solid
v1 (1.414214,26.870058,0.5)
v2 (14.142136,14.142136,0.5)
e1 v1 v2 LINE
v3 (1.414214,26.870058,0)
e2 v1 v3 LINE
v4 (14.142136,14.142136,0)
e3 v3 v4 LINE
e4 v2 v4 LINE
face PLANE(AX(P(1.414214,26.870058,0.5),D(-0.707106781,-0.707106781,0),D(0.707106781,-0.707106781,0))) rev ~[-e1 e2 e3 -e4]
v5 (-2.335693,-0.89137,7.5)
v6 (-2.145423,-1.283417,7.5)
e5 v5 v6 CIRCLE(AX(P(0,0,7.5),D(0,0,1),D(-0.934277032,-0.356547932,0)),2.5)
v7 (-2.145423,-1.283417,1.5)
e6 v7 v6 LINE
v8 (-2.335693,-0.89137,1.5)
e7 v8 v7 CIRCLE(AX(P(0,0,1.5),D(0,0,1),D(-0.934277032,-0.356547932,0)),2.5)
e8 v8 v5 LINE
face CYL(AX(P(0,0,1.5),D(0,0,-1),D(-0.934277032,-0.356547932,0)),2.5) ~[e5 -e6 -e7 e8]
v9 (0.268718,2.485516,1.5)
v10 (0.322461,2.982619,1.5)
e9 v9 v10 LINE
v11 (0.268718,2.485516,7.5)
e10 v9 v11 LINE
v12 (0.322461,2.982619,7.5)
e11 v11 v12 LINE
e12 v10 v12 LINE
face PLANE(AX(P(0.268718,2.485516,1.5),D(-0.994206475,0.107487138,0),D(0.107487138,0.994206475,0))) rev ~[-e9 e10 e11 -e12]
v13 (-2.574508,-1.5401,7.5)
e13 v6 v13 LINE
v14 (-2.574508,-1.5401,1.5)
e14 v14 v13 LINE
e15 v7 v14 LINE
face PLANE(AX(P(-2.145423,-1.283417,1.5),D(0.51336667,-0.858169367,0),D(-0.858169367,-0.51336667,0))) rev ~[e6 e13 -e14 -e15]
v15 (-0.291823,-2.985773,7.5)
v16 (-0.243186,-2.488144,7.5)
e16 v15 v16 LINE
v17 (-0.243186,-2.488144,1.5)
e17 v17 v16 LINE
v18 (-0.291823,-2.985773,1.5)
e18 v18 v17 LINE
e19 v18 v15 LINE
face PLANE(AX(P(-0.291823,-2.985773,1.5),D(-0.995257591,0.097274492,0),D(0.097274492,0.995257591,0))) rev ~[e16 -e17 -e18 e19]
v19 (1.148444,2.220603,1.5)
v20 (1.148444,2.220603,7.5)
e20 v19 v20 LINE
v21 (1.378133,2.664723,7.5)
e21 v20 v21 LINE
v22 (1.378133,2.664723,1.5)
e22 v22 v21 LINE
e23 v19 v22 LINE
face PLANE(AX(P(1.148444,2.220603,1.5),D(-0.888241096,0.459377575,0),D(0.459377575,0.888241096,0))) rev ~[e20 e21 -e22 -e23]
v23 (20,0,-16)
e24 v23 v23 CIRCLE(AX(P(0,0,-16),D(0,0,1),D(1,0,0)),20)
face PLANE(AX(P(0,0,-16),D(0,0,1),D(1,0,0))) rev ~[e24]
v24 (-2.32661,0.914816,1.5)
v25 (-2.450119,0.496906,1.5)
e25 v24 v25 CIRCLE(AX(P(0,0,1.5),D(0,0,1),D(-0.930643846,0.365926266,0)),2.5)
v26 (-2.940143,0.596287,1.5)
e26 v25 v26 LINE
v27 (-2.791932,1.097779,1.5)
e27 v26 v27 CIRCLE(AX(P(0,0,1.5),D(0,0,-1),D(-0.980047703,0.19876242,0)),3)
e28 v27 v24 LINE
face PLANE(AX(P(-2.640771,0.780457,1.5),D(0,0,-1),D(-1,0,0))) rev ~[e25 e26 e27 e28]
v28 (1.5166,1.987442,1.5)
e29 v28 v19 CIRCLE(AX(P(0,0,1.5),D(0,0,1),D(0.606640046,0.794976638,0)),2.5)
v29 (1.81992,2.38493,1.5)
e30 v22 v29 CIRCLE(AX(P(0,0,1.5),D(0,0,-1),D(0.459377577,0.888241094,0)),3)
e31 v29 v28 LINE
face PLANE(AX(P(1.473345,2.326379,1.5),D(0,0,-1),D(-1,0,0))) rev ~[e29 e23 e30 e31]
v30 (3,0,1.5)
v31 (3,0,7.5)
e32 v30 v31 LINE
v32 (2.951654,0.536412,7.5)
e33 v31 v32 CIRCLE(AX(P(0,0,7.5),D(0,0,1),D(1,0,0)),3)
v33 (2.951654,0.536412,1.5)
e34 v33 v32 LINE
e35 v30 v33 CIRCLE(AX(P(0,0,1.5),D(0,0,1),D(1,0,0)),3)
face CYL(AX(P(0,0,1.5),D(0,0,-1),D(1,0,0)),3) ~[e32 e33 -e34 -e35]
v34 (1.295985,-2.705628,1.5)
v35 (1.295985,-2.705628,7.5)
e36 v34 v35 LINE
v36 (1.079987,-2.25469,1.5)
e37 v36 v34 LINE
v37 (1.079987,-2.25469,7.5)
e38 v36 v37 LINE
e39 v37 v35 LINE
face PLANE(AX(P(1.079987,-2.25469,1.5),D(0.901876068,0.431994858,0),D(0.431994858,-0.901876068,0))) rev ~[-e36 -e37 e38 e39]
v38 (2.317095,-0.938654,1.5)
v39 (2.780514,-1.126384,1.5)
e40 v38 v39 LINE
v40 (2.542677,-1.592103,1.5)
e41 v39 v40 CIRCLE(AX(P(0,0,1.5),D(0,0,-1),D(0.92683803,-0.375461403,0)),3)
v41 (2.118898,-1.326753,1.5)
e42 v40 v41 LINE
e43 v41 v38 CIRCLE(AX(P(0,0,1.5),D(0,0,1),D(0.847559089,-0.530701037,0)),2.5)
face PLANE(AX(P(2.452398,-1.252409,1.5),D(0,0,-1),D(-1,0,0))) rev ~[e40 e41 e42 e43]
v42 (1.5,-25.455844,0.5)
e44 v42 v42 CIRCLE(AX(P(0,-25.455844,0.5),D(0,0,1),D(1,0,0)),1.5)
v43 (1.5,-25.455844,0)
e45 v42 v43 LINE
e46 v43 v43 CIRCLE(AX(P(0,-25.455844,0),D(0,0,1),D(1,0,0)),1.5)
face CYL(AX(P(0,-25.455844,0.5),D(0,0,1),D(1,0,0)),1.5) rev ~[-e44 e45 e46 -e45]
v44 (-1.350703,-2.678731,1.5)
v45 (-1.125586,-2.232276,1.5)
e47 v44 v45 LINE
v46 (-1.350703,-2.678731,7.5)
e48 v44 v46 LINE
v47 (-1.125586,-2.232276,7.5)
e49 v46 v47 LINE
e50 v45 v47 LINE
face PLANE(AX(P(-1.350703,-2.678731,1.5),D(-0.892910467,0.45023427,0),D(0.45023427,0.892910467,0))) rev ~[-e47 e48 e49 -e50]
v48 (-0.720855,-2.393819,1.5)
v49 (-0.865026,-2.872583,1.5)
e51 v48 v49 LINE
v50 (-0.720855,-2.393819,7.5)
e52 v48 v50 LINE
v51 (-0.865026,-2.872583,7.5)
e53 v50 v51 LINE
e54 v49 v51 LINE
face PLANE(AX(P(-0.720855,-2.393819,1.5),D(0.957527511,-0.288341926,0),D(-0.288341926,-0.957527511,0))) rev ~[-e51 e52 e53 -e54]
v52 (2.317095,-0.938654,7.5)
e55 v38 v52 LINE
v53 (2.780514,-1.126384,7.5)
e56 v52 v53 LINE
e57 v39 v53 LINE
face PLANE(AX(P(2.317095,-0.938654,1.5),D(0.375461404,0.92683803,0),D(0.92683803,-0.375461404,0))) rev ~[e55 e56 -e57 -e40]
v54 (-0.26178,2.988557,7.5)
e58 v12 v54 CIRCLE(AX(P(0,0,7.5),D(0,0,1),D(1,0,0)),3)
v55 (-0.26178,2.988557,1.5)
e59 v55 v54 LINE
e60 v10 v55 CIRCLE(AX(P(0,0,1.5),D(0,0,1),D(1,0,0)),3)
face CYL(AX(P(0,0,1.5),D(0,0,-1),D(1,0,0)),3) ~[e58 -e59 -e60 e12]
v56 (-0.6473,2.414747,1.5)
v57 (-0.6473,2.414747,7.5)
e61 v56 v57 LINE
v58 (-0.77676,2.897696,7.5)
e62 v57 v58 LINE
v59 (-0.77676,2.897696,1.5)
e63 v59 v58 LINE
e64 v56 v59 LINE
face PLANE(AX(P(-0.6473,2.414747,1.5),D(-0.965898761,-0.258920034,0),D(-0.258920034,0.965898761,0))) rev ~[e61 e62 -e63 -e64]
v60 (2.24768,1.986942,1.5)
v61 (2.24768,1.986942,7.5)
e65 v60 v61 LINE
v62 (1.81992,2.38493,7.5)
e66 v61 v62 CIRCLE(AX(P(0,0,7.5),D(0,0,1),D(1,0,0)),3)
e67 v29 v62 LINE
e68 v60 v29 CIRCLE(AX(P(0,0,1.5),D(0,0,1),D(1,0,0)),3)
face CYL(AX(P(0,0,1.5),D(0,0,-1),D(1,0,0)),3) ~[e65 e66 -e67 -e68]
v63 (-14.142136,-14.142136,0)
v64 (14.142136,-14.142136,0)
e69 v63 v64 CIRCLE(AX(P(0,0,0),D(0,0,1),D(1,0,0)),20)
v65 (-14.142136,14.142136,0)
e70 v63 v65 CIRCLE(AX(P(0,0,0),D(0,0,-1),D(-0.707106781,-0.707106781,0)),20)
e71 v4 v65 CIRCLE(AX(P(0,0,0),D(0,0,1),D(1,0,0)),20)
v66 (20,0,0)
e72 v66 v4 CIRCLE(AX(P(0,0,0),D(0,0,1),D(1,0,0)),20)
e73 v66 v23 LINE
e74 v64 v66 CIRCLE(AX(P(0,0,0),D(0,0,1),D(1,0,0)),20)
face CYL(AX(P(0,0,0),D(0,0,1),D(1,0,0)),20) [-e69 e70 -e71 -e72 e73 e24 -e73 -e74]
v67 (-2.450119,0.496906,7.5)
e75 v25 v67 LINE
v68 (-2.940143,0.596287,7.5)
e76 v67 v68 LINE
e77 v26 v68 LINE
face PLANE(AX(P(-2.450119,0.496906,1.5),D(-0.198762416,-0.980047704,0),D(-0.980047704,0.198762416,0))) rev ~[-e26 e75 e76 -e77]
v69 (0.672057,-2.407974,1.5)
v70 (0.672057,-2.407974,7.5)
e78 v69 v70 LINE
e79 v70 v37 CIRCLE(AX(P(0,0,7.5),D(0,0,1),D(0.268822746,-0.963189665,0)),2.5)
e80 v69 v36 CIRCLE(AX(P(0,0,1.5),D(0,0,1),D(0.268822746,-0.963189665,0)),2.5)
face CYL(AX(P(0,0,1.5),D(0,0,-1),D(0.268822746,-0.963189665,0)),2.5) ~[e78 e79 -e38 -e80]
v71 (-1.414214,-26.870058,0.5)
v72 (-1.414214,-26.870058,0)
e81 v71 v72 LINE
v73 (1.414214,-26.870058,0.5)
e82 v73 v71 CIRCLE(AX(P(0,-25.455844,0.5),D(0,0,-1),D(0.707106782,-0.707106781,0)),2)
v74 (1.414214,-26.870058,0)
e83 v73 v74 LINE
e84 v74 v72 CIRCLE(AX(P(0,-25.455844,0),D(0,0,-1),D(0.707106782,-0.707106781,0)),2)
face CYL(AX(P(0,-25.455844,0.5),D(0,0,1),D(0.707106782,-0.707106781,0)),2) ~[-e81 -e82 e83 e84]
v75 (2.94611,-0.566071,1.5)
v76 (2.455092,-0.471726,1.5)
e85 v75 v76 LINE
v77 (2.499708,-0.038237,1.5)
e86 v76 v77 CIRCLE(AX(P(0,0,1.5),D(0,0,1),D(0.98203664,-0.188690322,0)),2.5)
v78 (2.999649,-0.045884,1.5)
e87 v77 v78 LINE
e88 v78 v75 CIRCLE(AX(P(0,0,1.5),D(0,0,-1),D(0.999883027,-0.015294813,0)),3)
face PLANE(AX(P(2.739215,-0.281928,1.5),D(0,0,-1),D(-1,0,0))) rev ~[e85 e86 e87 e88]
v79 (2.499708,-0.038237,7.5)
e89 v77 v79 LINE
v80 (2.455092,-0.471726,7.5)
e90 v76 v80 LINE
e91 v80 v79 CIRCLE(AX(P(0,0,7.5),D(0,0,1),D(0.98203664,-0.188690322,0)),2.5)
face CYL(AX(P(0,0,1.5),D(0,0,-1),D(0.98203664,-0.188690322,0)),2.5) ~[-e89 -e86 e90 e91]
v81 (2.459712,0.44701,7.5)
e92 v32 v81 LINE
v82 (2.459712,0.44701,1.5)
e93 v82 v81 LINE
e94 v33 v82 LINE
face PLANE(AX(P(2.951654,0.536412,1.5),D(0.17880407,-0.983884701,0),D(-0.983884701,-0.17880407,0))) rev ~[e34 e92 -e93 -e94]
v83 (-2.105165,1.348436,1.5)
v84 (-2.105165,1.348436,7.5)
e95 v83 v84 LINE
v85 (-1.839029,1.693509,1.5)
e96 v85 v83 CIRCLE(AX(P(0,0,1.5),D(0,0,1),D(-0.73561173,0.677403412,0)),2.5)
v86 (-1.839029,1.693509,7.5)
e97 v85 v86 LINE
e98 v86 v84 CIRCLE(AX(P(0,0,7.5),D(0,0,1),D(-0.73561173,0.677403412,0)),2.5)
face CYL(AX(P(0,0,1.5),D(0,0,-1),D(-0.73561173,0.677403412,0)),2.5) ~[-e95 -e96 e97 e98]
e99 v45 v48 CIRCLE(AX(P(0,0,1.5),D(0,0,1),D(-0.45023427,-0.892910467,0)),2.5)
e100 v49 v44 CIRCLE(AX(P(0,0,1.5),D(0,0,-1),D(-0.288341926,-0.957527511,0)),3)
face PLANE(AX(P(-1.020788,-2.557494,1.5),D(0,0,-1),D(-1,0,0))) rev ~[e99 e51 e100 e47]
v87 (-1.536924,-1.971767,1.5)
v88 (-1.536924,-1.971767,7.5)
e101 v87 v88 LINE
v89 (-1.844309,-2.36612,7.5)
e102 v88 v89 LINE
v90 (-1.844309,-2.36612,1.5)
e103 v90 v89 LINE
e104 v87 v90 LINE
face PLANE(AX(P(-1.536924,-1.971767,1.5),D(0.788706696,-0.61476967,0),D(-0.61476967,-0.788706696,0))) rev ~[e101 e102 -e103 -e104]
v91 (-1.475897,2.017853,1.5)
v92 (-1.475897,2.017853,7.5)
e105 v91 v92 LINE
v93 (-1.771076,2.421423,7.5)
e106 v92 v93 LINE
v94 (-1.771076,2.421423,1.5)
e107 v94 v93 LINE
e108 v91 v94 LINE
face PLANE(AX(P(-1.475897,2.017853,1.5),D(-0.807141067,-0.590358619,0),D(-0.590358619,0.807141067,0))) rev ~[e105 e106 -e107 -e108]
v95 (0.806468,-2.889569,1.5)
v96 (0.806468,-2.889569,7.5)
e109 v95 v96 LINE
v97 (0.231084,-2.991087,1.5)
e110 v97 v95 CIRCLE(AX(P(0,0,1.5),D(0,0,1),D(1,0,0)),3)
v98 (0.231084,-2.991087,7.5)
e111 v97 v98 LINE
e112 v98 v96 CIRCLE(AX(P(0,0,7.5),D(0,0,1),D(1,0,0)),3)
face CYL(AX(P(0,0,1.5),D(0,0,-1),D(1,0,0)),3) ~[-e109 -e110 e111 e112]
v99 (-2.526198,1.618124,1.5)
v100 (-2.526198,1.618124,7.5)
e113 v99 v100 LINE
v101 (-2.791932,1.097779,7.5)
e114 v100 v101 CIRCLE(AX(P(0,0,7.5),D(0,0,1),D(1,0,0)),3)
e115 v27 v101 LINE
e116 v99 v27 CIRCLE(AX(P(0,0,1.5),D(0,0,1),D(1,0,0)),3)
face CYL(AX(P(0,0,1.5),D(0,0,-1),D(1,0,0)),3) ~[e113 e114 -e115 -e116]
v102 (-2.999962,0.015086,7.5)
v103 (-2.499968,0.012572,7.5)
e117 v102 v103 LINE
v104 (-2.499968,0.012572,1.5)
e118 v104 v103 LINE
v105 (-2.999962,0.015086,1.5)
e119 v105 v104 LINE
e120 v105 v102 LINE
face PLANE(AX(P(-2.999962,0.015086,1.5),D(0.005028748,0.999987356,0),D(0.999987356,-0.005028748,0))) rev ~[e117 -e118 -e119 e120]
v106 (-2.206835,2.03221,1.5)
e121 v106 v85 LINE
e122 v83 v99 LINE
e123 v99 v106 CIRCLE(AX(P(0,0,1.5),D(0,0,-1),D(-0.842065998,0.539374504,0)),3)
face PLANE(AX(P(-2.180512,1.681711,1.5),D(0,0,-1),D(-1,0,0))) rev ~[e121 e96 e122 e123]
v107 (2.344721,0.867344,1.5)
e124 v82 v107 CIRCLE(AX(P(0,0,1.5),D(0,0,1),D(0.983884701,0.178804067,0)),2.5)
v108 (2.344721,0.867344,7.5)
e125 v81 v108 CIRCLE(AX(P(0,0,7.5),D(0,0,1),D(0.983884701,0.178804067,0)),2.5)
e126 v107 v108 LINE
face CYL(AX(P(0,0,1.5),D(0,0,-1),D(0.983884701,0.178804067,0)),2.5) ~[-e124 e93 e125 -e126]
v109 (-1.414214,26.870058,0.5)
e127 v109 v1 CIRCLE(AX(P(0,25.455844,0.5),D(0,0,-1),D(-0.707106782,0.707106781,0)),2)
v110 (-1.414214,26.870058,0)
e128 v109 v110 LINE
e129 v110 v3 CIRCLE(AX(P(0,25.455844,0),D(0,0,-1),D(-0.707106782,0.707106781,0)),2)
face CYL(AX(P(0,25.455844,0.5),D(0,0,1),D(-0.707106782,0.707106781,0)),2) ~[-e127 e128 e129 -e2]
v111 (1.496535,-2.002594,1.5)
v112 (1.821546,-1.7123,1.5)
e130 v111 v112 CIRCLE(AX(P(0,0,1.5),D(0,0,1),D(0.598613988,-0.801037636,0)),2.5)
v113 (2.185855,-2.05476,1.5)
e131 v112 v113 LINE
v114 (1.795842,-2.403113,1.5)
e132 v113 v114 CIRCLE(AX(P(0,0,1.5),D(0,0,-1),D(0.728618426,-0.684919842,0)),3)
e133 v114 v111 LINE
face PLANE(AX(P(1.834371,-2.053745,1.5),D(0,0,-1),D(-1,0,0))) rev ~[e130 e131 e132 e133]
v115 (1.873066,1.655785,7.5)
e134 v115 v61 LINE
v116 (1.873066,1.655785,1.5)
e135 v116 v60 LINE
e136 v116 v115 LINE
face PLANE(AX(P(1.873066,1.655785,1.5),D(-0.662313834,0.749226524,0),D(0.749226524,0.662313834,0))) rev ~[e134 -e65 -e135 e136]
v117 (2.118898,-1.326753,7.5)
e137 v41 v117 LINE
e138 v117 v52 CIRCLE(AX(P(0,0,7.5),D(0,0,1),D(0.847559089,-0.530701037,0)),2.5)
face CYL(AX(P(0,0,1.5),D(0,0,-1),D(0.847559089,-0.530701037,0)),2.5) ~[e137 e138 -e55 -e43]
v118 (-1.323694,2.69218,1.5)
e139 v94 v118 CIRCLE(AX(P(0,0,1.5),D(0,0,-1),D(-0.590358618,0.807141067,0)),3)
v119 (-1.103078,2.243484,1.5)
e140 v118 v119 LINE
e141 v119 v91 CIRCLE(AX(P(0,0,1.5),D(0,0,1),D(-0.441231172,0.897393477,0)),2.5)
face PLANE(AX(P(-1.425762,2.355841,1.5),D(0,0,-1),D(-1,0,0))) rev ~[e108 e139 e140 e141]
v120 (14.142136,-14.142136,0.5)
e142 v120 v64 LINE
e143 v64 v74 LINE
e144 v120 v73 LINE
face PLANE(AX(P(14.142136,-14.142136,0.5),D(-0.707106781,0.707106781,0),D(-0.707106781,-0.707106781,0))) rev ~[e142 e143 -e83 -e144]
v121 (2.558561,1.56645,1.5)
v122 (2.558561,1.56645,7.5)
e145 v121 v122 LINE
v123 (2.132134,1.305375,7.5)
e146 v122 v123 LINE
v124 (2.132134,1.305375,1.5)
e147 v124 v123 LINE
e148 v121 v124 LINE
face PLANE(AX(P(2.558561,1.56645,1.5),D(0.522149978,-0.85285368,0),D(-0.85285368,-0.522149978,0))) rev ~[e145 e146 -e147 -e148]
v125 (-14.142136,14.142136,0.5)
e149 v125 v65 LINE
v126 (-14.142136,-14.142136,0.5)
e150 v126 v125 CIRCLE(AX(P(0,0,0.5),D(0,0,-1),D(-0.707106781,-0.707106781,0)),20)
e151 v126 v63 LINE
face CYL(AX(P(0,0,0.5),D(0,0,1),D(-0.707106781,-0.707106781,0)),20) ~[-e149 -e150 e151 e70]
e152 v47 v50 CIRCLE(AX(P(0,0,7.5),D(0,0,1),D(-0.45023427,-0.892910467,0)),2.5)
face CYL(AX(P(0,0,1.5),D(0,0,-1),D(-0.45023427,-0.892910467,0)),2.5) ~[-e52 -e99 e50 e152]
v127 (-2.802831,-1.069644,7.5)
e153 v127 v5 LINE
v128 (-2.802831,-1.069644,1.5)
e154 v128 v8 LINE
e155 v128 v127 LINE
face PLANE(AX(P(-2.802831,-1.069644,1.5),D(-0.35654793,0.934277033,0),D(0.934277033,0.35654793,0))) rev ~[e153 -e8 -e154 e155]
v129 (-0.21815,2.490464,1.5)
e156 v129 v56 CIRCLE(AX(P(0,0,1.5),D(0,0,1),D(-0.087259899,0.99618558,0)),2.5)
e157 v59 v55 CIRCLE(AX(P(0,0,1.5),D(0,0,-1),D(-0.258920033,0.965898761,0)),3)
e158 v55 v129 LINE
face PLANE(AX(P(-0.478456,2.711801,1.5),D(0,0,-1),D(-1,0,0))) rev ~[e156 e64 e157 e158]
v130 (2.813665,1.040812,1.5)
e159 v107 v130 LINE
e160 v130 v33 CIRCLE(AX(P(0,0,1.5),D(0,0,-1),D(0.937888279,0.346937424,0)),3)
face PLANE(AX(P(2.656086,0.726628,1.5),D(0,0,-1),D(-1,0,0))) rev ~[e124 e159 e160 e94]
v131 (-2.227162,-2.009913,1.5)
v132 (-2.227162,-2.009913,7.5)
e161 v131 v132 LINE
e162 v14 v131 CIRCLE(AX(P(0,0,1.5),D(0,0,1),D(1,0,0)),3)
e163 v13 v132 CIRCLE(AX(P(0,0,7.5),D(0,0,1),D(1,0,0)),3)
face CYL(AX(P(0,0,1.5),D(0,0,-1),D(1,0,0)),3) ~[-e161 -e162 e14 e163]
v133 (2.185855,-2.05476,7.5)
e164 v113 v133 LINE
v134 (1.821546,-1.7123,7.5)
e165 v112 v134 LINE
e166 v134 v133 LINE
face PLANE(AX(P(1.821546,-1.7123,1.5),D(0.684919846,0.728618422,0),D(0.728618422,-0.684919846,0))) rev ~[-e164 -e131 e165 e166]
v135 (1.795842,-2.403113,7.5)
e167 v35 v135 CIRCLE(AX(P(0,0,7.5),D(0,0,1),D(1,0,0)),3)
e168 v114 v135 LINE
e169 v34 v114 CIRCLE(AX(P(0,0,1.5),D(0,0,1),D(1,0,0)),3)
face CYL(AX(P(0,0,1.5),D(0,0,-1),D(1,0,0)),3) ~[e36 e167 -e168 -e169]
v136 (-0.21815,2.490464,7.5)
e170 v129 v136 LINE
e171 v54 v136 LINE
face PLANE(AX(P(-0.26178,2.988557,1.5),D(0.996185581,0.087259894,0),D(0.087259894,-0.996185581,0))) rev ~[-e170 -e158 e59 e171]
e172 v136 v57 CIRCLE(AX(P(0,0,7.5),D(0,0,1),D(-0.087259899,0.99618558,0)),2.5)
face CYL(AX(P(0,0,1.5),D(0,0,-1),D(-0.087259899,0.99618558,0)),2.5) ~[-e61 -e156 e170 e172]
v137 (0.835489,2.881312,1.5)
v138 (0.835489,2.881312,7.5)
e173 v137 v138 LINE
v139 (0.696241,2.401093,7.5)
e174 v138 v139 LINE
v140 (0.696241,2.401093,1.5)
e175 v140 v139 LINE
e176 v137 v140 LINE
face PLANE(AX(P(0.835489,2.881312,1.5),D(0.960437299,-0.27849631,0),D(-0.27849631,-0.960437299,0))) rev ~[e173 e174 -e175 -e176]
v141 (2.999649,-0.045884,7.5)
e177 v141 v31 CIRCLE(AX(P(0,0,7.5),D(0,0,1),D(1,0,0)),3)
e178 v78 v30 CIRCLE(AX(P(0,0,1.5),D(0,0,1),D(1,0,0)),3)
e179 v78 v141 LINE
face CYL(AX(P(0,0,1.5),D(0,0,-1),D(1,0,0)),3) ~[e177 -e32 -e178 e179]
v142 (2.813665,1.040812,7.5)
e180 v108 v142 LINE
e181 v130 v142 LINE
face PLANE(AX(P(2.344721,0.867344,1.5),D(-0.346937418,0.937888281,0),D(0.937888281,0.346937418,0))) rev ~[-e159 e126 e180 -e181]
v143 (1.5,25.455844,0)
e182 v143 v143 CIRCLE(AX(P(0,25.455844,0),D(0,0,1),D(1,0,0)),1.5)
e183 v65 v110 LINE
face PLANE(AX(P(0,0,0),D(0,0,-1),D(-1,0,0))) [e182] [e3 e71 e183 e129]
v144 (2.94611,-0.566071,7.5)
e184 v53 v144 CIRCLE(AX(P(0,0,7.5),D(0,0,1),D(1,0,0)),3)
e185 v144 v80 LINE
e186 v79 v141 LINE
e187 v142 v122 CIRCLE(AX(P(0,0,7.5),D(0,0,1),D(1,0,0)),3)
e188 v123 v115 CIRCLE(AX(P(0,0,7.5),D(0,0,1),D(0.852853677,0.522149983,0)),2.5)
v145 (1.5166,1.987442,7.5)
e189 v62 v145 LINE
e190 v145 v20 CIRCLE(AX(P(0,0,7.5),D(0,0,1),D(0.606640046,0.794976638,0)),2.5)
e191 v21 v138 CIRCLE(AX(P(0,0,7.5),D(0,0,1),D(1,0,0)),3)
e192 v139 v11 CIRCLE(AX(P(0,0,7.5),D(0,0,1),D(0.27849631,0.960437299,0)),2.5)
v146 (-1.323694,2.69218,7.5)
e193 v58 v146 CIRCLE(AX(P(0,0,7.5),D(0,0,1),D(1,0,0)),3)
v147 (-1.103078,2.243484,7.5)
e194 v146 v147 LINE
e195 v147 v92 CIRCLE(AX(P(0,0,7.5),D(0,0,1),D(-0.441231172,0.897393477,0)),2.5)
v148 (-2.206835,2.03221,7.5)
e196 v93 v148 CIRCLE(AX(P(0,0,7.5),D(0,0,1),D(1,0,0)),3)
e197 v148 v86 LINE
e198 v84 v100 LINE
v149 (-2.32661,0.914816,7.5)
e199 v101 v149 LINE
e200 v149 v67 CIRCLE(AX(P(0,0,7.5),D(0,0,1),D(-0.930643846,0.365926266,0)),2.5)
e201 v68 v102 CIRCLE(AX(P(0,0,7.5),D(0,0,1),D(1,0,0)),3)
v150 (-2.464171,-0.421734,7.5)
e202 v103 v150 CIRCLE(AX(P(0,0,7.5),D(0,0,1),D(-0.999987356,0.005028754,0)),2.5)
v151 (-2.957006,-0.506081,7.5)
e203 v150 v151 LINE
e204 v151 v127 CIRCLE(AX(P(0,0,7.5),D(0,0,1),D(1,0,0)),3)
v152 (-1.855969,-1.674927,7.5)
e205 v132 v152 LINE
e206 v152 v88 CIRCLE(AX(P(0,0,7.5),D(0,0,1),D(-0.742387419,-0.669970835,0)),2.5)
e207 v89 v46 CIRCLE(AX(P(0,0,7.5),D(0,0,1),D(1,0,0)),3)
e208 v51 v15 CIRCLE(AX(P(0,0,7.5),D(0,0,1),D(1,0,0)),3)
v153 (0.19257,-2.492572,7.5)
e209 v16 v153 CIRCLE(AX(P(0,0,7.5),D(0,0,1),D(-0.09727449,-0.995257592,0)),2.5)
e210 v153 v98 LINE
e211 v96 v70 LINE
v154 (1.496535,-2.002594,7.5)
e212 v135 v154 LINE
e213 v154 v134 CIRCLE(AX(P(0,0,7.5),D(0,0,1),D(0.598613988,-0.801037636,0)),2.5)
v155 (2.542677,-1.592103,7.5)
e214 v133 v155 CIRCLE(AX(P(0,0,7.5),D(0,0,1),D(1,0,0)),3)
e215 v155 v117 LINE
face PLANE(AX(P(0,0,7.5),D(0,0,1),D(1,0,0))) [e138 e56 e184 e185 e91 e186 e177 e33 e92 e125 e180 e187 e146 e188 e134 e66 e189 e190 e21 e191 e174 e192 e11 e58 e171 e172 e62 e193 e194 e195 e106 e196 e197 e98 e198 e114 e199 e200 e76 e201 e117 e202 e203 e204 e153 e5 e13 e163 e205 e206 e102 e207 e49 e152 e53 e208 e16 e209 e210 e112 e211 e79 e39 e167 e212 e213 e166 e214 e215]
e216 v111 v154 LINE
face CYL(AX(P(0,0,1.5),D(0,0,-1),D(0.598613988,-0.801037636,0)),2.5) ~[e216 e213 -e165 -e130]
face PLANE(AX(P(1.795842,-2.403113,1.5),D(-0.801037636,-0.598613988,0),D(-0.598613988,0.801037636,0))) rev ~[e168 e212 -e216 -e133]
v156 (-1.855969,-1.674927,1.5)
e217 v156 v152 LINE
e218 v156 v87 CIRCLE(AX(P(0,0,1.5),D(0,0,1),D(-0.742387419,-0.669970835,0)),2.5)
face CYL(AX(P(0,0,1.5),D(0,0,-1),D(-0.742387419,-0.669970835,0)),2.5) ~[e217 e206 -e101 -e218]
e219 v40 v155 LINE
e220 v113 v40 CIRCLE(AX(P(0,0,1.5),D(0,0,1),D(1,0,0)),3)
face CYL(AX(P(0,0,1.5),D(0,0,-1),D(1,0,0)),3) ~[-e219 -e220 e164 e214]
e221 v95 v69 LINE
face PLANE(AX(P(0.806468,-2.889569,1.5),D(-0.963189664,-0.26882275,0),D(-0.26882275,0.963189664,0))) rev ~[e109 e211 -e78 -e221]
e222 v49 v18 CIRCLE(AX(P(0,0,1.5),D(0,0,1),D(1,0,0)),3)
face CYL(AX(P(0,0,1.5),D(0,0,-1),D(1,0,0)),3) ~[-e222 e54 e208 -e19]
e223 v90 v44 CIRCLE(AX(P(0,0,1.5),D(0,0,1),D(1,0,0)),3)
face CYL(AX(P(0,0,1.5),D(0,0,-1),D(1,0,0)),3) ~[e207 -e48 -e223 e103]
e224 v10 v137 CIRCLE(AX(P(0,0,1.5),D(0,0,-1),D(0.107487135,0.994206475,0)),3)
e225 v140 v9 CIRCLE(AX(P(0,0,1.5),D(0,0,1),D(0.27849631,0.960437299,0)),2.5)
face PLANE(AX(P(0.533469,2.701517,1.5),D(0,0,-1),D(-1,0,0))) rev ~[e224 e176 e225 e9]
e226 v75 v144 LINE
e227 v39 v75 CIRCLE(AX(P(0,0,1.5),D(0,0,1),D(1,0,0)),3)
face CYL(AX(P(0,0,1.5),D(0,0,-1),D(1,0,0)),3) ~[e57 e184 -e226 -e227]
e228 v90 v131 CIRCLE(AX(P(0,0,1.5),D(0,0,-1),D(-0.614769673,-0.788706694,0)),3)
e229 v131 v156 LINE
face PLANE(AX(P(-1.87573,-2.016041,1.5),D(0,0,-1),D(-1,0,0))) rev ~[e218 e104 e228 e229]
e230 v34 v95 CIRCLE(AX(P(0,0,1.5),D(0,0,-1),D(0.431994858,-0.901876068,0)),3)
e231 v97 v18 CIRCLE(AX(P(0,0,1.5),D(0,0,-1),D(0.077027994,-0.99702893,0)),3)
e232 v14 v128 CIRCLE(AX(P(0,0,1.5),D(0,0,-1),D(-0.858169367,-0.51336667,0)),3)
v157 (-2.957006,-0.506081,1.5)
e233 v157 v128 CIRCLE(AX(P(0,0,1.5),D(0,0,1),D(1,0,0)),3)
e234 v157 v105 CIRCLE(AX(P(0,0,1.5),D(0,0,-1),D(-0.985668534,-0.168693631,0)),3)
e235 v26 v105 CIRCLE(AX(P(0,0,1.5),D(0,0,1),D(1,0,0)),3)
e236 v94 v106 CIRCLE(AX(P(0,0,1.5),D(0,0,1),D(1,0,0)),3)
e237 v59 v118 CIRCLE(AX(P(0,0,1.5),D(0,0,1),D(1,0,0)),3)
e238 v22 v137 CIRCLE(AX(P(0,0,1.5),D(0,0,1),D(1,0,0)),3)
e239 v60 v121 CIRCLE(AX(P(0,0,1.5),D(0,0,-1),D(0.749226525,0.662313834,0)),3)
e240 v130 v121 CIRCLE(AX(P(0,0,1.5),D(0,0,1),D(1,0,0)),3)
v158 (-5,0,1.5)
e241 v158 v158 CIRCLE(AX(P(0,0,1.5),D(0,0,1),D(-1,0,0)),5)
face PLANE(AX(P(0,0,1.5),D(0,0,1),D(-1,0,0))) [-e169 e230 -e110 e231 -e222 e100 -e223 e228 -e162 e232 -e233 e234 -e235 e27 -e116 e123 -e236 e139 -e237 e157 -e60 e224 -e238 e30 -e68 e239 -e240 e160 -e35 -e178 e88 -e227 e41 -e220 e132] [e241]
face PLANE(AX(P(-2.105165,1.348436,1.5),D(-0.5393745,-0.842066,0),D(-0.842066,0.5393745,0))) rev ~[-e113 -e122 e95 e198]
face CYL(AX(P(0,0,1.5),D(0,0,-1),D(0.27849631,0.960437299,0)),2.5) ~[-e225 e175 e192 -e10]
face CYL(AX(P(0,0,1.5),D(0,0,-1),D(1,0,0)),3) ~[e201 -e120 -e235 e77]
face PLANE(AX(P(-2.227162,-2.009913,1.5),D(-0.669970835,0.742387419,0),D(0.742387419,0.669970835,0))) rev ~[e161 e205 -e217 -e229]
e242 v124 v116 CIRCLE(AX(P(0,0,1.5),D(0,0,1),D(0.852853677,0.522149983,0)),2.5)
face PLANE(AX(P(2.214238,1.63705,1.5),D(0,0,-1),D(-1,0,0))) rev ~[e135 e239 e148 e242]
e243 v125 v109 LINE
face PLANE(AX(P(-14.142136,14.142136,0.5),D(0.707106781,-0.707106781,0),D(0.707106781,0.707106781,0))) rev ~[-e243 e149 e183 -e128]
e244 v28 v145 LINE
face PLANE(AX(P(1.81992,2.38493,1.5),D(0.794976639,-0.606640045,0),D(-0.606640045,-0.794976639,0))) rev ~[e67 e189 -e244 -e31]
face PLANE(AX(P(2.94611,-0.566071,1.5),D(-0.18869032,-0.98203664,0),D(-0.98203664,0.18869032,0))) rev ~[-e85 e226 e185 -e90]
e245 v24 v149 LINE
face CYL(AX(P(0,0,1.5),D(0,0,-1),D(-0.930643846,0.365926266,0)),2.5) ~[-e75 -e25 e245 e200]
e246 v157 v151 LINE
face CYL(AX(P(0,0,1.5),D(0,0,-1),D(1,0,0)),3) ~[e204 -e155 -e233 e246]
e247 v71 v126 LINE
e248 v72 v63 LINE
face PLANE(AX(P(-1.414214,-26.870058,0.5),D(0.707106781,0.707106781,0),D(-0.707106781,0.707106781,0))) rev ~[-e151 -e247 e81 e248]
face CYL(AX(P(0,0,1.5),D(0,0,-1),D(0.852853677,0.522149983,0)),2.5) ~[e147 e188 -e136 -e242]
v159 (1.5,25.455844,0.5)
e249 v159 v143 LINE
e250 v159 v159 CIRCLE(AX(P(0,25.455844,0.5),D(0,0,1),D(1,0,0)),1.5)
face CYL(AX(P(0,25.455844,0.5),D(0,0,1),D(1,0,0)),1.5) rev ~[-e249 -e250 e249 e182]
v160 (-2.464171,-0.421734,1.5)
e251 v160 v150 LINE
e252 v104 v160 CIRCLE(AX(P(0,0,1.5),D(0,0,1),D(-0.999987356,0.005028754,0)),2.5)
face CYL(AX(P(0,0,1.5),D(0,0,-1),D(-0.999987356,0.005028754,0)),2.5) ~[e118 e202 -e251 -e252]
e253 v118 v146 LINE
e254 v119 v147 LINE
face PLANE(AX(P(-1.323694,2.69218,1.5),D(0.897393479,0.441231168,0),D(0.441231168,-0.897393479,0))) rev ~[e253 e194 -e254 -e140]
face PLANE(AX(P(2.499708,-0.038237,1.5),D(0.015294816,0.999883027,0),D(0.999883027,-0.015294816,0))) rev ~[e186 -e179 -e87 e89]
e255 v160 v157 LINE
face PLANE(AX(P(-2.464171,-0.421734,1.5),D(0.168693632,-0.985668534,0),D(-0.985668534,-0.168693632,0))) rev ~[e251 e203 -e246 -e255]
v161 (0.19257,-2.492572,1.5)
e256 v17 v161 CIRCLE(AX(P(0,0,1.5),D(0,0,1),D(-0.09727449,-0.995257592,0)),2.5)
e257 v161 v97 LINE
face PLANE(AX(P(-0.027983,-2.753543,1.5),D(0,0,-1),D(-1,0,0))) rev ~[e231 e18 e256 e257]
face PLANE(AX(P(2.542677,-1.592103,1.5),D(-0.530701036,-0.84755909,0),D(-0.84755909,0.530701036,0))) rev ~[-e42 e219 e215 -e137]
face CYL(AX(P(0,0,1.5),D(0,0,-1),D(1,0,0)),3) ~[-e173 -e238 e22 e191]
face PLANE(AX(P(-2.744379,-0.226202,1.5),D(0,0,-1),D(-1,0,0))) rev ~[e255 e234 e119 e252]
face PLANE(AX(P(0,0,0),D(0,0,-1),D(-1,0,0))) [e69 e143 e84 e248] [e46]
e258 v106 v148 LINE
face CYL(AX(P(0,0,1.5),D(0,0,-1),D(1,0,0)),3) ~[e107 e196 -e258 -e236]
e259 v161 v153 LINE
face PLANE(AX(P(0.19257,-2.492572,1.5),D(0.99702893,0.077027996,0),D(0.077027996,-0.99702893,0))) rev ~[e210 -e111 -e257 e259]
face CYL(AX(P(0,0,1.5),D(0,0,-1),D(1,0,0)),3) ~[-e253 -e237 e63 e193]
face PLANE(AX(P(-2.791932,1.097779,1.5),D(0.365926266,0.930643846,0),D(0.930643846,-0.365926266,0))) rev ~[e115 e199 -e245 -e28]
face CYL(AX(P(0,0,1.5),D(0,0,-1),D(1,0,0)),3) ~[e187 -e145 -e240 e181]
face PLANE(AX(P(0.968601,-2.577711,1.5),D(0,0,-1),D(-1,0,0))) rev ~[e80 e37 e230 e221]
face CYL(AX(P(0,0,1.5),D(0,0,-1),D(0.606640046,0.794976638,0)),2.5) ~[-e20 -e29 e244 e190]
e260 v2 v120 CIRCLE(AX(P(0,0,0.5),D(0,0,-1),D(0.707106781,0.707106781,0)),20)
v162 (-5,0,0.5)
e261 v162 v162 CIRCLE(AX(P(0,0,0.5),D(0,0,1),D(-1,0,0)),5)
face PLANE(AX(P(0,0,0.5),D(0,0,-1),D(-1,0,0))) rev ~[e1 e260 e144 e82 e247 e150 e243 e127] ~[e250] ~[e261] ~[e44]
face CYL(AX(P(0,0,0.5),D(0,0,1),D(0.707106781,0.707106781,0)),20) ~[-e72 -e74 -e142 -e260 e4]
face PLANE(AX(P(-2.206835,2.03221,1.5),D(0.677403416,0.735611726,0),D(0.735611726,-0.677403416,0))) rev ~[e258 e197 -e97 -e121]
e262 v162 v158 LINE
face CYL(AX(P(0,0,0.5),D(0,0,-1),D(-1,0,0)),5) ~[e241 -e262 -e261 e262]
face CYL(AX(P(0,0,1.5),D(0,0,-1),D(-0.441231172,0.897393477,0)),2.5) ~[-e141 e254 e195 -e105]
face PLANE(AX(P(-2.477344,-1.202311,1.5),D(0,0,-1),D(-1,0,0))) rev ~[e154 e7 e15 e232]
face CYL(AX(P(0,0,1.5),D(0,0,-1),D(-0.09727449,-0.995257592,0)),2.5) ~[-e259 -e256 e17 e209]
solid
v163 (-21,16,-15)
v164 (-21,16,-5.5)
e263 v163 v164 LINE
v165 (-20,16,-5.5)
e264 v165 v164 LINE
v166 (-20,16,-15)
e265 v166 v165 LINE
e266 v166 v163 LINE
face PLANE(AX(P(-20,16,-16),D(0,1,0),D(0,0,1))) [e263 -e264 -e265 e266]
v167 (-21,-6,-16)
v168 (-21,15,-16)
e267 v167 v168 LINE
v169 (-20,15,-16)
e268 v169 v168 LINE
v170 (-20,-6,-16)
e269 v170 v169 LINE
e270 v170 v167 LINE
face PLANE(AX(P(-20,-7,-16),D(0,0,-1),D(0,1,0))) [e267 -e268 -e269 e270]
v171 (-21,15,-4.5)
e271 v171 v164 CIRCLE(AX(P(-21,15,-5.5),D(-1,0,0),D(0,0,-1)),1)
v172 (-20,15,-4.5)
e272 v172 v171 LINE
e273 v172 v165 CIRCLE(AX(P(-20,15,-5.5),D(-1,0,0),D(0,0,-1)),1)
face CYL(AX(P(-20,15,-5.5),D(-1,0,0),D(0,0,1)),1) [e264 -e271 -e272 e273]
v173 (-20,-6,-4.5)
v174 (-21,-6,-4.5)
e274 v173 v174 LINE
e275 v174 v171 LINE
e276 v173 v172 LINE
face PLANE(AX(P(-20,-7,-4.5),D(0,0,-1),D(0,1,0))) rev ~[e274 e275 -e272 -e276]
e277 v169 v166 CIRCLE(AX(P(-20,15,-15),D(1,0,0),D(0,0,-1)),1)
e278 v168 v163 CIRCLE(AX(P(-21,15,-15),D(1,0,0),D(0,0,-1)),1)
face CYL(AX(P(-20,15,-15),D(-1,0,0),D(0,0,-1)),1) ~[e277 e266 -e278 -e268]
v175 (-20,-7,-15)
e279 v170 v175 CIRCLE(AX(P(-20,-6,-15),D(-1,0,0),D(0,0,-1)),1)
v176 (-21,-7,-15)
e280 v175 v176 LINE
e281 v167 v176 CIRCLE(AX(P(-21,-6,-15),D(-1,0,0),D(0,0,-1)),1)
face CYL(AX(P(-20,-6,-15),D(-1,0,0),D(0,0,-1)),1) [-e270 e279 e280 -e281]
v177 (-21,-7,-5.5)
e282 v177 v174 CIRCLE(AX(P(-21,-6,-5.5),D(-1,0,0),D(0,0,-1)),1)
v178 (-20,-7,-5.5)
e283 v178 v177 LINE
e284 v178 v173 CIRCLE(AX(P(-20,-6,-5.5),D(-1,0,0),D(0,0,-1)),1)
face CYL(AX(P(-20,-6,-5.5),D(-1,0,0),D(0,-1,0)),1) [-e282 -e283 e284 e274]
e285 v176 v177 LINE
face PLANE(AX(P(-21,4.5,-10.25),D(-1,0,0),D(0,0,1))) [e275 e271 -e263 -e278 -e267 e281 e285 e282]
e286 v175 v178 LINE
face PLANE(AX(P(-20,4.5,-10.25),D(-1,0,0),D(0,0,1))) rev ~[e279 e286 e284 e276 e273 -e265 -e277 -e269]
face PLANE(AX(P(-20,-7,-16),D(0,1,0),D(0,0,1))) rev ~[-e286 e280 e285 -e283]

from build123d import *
from build123d.topology import SkipClean

# Parameters (mm, degrees)
SKETCH1_R           = 20
BOSS_EXTRUDE1_DEPTH = 16
BOSS_EXTRUDE3_START = 0.5
SKETCH3_R           = 1.5
BOSS_EXTRUDE3_DEPTH = 0.5
SKETCH4_R           = 5
BOSS_EXTRUDE4_DEPTH = 1
SKETCH5_R           = 3
BOSS_EXTRUDE5_DEPTH = 6
CUT_EXTRUDE1_START  = -6
CUT_EXTRUDE1_DEPTH  = 6
SKETCH8_W           = 11.5
SKETCH8_H           = 23
BOSS_EXTRUDE6_DEPTH = 1
FILLET1_R           = 1


with BuildPart() as part:
    # Sketch1 → Boss-Extrude1 (new body)
    with BuildSketch(Plane.XY):
        Circle(SKETCH1_R)
    extrude(amount=-BOSS_EXTRUDE1_DEPTH)

    # Sketch3 → Boss-Extrude3 (add)
    with SkipClean():  # the faces are left unmerged after this step: merging them gives an invalid solid
        with BuildSketch(Plane.XY.offset(BOSS_EXTRUDE3_START)):
            with BuildLine():
                Line((-14.142135624, 14.142135624), (-1.414213562, 26.870057685))
                ThreePointArc((-1.414213562, 26.870057685), (0, 27.455844123), (1.414213562, 26.870057685))
                Line((1.414213562, 26.870057685), (14.142135624, 14.142135624))
                ThreePointArc((14.142135624, 14.142135624), (20, 0), (14.142135624, -14.142135624))
                Line((14.142135624, -14.142135624), (1.414213562, -26.870057685))
                ThreePointArc((1.414213562, -26.870057685), (0, -27.455844123), (-1.414213562, -26.870057685))
                Line((-1.414213562, -26.870057685), (-14.142135624, -14.142135624))
                ThreePointArc((-14.142135624, -14.142135624), (-20, 0), (-14.142135624, 14.142135624))
            make_face()
            with Locations((0, -25.455844123)):
                Circle(SKETCH3_R, mode=Mode.SUBTRACT)
            with Locations((0, 25.455844123)):
                Circle(SKETCH3_R, mode=Mode.SUBTRACT)
        extrude(amount=-BOSS_EXTRUDE3_DEPTH)

    # Sketch4 → Boss-Extrude4 (add)
    with SkipClean():  # the faces are left unmerged after this step: merging them gives an invalid solid
        with BuildSketch(Plane.XY.offset(0.5)):
            with Locations(Location((0, 0, 0), (0, 0, 180))):
                Circle(SKETCH4_R)
        extrude(amount=BOSS_EXTRUDE4_DEPTH)

    # Sketch5 → Boss-Extrude5 (add)
    with SkipClean():  # the faces are left unmerged after this step: merging them gives an invalid solid
        with BuildSketch(Plane.XY.offset(1.5)):
            Circle(SKETCH5_R)
        extrude(amount=BOSS_EXTRUDE5_DEPTH)

    # Sketch6 → Cut-Extrude1 (cut)
    with SkipClean():  # the faces are left unmerged after this step: merging them gives an invalid solid
        with BuildSketch(Plane.XY.offset(7.5).offset(CUT_EXTRUDE1_START)):
            with BuildLine():
                Line((-2.464171335, -0.421734077), (-2.957005602, -0.506080893))
                ThreePointArc((-2.957005602, -0.506080893), (-2.989861159, -0.246435082), (-2.999962067, 0.015086247))
                Line((-2.999962067, 0.015086247), (-2.499968389, 0.012571873))
                ThreePointArc((-2.499968389, 0.012571873), (-2.491550966, -0.205362569), (-2.464171335, -0.421734077))
            make_face()
            with BuildLine():
                Line((-2.450119259, 0.496906044), (-2.940143111, 0.596287252))
                ThreePointArc((-2.940143111, 0.596287252), (-2.87698512, 0.850268556), (-2.791931536, 1.097778802))
                Line((-2.791931536, 1.097778802), (-2.326609613, 0.914815669))
                ThreePointArc((-2.326609613, 0.914815669), (-2.3974876, 0.70855713), (-2.450119259, 0.496906044))
            make_face()
            with BuildLine():
                Line((-2.145423418, -1.283416674), (-2.574508101, -1.540100009))
                ThreePointArc((-2.574508101, -1.540100009), (-2.698939881, -1.309856297), (-2.802831098, -1.069643789))
                Line((-2.802831098, -1.069643789), (-2.335692582, -0.891369824))
                ThreePointArc((-2.335692582, -0.891369824), (-2.249116567, -1.091546915), (-2.145423418, -1.283416674))
            make_face()
            with BuildLine():
                Line((-2.105165001, 1.34843625), (-2.526198001, 1.6181235))
                ThreePointArc((-2.526198001, 1.6181235), (-2.375556299, 1.832138714), (-2.20683518, 2.032210247))
                Line((-2.20683518, 2.032210247), (-1.839029317, 1.693508539))
                ThreePointArc((-1.839029317, 1.693508539), (-1.979630249, 1.526782262), (-2.105165001, 1.34843625))
            make_face()
            with BuildLine():
                Line((-1.475896544, 2.017852669), (-1.771075853, 2.421423202))
                ThreePointArc((-1.771075853, 2.421423202), (-1.553295437, 2.566568387), (-1.323693504, 2.692180437))
                Line((-1.323693504, 2.692180437), (-1.10307792, 2.243483698))
                ThreePointArc((-1.10307792, 2.243483698), (-1.294412864, 2.138806989), (-1.475896544, 2.017852669))
            make_face()
            with BuildLine():
                Line((-0.64730008, 2.414746903), (-0.776760097, 2.897696284))
                ThreePointArc((-0.776760097, 2.897696284), (-0.521253418, 2.954368778), (-0.261779686, 2.988556741))
                Line((-0.261779686, 2.988556741), (-0.218149739, 2.490463951))
                ThreePointArc((-0.218149739, 2.490463951), (-0.434377848, 2.461973981), (-0.64730008, 2.414746903))
            make_face()
            with BuildLine():
                Line((0.268717846, 2.485516188), (0.322461415, 2.982619425))
                ThreePointArc((0.322461415, 2.982619425), (0.581186763, 2.943165294), (0.835488929, 2.881311897))
                Line((0.835488929, 2.881311897), (0.696240774, 2.401093248))
                ThreePointArc((0.696240774, 2.401093248), (0.484322303, 2.452637745), (0.268717846, 2.485516188))
            make_face()
            with BuildLine():
                Line((1.148443938, 2.220602739), (1.378132725, 2.664723286))
                ThreePointArc((1.378132725, 2.664723286), (1.605134451, 2.534471028), (1.819920135, 2.384929916))
                Line((1.819920135, 2.384929916), (1.516600112, 1.987441596))
                ThreePointArc((1.516600112, 1.987441596), (1.337612043, 2.11205919), (1.148443938, 2.220602739))
            make_face()
            with BuildLine():
                Line((1.873066312, 1.655784585), (2.247679574, 1.986941502))
                ThreePointArc((2.247679574, 1.986941502), (2.412299837, 1.783482407), (2.558561042, 1.566449934))
                Line((2.558561042, 1.566449934), (2.132134202, 1.305374945))
                ThreePointArc((2.132134202, 1.305374945), (2.010249864, 1.486235339), (1.873066312, 1.655784585))
            make_face()
            with BuildLine():
                Line((2.344720702, 0.867343548), (2.813664842, 1.040812257))
                ThreePointArc((2.813664842, 1.040812257), (2.893670764, 0.791624603), (2.951654103, 0.536412208))
                Line((2.951654103, 0.536412208), (2.459711752, 0.447010173))
                ThreePointArc((2.459711752, 0.447010173), (2.411392303, 0.659687169), (2.344720702, 0.867343548))
            make_face()
            with BuildLine():
                Line((2.499707569, -0.038237042), (2.999649082, -0.04588445))
                ThreePointArc((2.999649082, -0.04588445), (2.984235419, -0.307146489), (2.946109922, -0.566070959))
                Line((2.946109922, -0.566070959), (2.455091601, -0.471725799))
                ThreePointArc((2.455091601, -0.471725799), (2.486862849, -0.255955408), (2.499707569, -0.038237042))
            make_face()
            with BuildLine():
                Line((2.317095077, -0.938653506), (2.780514092, -1.126384208))
                ThreePointArc((2.780514092, -1.126384208), (2.671762544, -1.364435747), (2.54267727, -1.592103106))
                Line((2.54267727, -1.592103106), (2.118897725, -1.326752588))
                ThreePointArc((2.118897725, -1.326752588), (2.226468787, -1.137029789), (2.317095077, -0.938653506))
            make_face()
            with BuildLine():
                Line((1.821546055, -1.712299614), (2.185855266, -2.054759537))
                ThreePointArc((2.185855266, -2.054759537), (1.998453334, -2.237450396), (1.795841964, -2.403112906))
                Line((1.795841964, -2.403112906), (1.49653497, -2.002594088))
                ThreePointArc((1.49653497, -2.002594088), (1.665377778, -1.864541996), (1.821546055, -1.712299614))
            make_face()
            with BuildLine():
                Line((1.079987146, -2.254690171), (1.295984575, -2.705628205))
                ThreePointArc((1.295984575, -2.705628205), (1.055241926, -2.808284971), (0.80646825, -2.889568992))
                Line((0.80646825, -2.889568992), (0.672056875, -2.40797416))
                ThreePointArc((0.672056875, -2.40797416), (0.879368272, -2.340237476), (1.079987146, -2.254690171))
            make_face()
            with BuildLine():
                Line((0.192569987, -2.492572326), (0.231083985, -2.991086791))
                ThreePointArc((0.231083985, -2.991086791), (-0.03048575, -2.999845099), (-0.291823471, -2.985772775))
                Line((-0.291823471, -2.985772775), (-0.243186225, -2.488143979))
                ThreePointArc((-0.243186225, -2.488143979), (-0.025404792, -2.499870916), (0.192569987, -2.492572326))
            make_face()
            with BuildLine():
                Line((-0.720854815, -2.393818777), (-0.865025778, -2.872582532))
                ThreePointArc((-0.865025778, -2.872582532), (-1.112096158, -2.786259524), (-1.350702814, -2.678731399))
                Line((-1.350702814, -2.678731399), (-1.125585679, -2.232276166))
                ThreePointArc((-1.125585679, -2.232276166), (-0.926746798, -2.321882937), (-0.720854815, -2.393818777))
            make_face()
            with BuildLine():
                Line((-1.53692418, -1.971766737), (-1.844309015, -2.366120085))
                ThreePointArc((-1.844309015, -2.366120085), (-2.043511816, -2.196374161), (-2.227162258, -2.009912504))
                Line((-2.227162258, -2.009912504), (-1.855968549, -1.674927087))
                ThreePointArc((-1.855968549, -1.674927087), (-1.702926514, -1.830311801), (-1.53692418, -1.971766737))
            make_face()
        extrude(amount=CUT_EXTRUDE1_DEPTH, mode=Mode.SUBTRACT)


with BuildPart() as body_2:
    # Sketch8 → Boss-Extrude6 (new body)
    with BuildSketch(Plane.ZY.offset(20)):
        with Locations((-10.25, 4.5)):
            Rectangle(SKETCH8_W, SKETCH8_H)
    extrude(amount=BOSS_EXTRUDE6_DEPTH)

    # Fillet1
    fillet1_edges = [body_2.edges().sort_by_distance(p)[0] for p in [
        (-20.5, 16, -16),
        (-20.5, 16, -4.5),
        (-20.5, -7, -4.5),
        (-20.5, -7, -16),
    ]]
    fillet(fillet1_edges, radius=FILLET1_R)


solid = Compound([part.part, body_2.part])
